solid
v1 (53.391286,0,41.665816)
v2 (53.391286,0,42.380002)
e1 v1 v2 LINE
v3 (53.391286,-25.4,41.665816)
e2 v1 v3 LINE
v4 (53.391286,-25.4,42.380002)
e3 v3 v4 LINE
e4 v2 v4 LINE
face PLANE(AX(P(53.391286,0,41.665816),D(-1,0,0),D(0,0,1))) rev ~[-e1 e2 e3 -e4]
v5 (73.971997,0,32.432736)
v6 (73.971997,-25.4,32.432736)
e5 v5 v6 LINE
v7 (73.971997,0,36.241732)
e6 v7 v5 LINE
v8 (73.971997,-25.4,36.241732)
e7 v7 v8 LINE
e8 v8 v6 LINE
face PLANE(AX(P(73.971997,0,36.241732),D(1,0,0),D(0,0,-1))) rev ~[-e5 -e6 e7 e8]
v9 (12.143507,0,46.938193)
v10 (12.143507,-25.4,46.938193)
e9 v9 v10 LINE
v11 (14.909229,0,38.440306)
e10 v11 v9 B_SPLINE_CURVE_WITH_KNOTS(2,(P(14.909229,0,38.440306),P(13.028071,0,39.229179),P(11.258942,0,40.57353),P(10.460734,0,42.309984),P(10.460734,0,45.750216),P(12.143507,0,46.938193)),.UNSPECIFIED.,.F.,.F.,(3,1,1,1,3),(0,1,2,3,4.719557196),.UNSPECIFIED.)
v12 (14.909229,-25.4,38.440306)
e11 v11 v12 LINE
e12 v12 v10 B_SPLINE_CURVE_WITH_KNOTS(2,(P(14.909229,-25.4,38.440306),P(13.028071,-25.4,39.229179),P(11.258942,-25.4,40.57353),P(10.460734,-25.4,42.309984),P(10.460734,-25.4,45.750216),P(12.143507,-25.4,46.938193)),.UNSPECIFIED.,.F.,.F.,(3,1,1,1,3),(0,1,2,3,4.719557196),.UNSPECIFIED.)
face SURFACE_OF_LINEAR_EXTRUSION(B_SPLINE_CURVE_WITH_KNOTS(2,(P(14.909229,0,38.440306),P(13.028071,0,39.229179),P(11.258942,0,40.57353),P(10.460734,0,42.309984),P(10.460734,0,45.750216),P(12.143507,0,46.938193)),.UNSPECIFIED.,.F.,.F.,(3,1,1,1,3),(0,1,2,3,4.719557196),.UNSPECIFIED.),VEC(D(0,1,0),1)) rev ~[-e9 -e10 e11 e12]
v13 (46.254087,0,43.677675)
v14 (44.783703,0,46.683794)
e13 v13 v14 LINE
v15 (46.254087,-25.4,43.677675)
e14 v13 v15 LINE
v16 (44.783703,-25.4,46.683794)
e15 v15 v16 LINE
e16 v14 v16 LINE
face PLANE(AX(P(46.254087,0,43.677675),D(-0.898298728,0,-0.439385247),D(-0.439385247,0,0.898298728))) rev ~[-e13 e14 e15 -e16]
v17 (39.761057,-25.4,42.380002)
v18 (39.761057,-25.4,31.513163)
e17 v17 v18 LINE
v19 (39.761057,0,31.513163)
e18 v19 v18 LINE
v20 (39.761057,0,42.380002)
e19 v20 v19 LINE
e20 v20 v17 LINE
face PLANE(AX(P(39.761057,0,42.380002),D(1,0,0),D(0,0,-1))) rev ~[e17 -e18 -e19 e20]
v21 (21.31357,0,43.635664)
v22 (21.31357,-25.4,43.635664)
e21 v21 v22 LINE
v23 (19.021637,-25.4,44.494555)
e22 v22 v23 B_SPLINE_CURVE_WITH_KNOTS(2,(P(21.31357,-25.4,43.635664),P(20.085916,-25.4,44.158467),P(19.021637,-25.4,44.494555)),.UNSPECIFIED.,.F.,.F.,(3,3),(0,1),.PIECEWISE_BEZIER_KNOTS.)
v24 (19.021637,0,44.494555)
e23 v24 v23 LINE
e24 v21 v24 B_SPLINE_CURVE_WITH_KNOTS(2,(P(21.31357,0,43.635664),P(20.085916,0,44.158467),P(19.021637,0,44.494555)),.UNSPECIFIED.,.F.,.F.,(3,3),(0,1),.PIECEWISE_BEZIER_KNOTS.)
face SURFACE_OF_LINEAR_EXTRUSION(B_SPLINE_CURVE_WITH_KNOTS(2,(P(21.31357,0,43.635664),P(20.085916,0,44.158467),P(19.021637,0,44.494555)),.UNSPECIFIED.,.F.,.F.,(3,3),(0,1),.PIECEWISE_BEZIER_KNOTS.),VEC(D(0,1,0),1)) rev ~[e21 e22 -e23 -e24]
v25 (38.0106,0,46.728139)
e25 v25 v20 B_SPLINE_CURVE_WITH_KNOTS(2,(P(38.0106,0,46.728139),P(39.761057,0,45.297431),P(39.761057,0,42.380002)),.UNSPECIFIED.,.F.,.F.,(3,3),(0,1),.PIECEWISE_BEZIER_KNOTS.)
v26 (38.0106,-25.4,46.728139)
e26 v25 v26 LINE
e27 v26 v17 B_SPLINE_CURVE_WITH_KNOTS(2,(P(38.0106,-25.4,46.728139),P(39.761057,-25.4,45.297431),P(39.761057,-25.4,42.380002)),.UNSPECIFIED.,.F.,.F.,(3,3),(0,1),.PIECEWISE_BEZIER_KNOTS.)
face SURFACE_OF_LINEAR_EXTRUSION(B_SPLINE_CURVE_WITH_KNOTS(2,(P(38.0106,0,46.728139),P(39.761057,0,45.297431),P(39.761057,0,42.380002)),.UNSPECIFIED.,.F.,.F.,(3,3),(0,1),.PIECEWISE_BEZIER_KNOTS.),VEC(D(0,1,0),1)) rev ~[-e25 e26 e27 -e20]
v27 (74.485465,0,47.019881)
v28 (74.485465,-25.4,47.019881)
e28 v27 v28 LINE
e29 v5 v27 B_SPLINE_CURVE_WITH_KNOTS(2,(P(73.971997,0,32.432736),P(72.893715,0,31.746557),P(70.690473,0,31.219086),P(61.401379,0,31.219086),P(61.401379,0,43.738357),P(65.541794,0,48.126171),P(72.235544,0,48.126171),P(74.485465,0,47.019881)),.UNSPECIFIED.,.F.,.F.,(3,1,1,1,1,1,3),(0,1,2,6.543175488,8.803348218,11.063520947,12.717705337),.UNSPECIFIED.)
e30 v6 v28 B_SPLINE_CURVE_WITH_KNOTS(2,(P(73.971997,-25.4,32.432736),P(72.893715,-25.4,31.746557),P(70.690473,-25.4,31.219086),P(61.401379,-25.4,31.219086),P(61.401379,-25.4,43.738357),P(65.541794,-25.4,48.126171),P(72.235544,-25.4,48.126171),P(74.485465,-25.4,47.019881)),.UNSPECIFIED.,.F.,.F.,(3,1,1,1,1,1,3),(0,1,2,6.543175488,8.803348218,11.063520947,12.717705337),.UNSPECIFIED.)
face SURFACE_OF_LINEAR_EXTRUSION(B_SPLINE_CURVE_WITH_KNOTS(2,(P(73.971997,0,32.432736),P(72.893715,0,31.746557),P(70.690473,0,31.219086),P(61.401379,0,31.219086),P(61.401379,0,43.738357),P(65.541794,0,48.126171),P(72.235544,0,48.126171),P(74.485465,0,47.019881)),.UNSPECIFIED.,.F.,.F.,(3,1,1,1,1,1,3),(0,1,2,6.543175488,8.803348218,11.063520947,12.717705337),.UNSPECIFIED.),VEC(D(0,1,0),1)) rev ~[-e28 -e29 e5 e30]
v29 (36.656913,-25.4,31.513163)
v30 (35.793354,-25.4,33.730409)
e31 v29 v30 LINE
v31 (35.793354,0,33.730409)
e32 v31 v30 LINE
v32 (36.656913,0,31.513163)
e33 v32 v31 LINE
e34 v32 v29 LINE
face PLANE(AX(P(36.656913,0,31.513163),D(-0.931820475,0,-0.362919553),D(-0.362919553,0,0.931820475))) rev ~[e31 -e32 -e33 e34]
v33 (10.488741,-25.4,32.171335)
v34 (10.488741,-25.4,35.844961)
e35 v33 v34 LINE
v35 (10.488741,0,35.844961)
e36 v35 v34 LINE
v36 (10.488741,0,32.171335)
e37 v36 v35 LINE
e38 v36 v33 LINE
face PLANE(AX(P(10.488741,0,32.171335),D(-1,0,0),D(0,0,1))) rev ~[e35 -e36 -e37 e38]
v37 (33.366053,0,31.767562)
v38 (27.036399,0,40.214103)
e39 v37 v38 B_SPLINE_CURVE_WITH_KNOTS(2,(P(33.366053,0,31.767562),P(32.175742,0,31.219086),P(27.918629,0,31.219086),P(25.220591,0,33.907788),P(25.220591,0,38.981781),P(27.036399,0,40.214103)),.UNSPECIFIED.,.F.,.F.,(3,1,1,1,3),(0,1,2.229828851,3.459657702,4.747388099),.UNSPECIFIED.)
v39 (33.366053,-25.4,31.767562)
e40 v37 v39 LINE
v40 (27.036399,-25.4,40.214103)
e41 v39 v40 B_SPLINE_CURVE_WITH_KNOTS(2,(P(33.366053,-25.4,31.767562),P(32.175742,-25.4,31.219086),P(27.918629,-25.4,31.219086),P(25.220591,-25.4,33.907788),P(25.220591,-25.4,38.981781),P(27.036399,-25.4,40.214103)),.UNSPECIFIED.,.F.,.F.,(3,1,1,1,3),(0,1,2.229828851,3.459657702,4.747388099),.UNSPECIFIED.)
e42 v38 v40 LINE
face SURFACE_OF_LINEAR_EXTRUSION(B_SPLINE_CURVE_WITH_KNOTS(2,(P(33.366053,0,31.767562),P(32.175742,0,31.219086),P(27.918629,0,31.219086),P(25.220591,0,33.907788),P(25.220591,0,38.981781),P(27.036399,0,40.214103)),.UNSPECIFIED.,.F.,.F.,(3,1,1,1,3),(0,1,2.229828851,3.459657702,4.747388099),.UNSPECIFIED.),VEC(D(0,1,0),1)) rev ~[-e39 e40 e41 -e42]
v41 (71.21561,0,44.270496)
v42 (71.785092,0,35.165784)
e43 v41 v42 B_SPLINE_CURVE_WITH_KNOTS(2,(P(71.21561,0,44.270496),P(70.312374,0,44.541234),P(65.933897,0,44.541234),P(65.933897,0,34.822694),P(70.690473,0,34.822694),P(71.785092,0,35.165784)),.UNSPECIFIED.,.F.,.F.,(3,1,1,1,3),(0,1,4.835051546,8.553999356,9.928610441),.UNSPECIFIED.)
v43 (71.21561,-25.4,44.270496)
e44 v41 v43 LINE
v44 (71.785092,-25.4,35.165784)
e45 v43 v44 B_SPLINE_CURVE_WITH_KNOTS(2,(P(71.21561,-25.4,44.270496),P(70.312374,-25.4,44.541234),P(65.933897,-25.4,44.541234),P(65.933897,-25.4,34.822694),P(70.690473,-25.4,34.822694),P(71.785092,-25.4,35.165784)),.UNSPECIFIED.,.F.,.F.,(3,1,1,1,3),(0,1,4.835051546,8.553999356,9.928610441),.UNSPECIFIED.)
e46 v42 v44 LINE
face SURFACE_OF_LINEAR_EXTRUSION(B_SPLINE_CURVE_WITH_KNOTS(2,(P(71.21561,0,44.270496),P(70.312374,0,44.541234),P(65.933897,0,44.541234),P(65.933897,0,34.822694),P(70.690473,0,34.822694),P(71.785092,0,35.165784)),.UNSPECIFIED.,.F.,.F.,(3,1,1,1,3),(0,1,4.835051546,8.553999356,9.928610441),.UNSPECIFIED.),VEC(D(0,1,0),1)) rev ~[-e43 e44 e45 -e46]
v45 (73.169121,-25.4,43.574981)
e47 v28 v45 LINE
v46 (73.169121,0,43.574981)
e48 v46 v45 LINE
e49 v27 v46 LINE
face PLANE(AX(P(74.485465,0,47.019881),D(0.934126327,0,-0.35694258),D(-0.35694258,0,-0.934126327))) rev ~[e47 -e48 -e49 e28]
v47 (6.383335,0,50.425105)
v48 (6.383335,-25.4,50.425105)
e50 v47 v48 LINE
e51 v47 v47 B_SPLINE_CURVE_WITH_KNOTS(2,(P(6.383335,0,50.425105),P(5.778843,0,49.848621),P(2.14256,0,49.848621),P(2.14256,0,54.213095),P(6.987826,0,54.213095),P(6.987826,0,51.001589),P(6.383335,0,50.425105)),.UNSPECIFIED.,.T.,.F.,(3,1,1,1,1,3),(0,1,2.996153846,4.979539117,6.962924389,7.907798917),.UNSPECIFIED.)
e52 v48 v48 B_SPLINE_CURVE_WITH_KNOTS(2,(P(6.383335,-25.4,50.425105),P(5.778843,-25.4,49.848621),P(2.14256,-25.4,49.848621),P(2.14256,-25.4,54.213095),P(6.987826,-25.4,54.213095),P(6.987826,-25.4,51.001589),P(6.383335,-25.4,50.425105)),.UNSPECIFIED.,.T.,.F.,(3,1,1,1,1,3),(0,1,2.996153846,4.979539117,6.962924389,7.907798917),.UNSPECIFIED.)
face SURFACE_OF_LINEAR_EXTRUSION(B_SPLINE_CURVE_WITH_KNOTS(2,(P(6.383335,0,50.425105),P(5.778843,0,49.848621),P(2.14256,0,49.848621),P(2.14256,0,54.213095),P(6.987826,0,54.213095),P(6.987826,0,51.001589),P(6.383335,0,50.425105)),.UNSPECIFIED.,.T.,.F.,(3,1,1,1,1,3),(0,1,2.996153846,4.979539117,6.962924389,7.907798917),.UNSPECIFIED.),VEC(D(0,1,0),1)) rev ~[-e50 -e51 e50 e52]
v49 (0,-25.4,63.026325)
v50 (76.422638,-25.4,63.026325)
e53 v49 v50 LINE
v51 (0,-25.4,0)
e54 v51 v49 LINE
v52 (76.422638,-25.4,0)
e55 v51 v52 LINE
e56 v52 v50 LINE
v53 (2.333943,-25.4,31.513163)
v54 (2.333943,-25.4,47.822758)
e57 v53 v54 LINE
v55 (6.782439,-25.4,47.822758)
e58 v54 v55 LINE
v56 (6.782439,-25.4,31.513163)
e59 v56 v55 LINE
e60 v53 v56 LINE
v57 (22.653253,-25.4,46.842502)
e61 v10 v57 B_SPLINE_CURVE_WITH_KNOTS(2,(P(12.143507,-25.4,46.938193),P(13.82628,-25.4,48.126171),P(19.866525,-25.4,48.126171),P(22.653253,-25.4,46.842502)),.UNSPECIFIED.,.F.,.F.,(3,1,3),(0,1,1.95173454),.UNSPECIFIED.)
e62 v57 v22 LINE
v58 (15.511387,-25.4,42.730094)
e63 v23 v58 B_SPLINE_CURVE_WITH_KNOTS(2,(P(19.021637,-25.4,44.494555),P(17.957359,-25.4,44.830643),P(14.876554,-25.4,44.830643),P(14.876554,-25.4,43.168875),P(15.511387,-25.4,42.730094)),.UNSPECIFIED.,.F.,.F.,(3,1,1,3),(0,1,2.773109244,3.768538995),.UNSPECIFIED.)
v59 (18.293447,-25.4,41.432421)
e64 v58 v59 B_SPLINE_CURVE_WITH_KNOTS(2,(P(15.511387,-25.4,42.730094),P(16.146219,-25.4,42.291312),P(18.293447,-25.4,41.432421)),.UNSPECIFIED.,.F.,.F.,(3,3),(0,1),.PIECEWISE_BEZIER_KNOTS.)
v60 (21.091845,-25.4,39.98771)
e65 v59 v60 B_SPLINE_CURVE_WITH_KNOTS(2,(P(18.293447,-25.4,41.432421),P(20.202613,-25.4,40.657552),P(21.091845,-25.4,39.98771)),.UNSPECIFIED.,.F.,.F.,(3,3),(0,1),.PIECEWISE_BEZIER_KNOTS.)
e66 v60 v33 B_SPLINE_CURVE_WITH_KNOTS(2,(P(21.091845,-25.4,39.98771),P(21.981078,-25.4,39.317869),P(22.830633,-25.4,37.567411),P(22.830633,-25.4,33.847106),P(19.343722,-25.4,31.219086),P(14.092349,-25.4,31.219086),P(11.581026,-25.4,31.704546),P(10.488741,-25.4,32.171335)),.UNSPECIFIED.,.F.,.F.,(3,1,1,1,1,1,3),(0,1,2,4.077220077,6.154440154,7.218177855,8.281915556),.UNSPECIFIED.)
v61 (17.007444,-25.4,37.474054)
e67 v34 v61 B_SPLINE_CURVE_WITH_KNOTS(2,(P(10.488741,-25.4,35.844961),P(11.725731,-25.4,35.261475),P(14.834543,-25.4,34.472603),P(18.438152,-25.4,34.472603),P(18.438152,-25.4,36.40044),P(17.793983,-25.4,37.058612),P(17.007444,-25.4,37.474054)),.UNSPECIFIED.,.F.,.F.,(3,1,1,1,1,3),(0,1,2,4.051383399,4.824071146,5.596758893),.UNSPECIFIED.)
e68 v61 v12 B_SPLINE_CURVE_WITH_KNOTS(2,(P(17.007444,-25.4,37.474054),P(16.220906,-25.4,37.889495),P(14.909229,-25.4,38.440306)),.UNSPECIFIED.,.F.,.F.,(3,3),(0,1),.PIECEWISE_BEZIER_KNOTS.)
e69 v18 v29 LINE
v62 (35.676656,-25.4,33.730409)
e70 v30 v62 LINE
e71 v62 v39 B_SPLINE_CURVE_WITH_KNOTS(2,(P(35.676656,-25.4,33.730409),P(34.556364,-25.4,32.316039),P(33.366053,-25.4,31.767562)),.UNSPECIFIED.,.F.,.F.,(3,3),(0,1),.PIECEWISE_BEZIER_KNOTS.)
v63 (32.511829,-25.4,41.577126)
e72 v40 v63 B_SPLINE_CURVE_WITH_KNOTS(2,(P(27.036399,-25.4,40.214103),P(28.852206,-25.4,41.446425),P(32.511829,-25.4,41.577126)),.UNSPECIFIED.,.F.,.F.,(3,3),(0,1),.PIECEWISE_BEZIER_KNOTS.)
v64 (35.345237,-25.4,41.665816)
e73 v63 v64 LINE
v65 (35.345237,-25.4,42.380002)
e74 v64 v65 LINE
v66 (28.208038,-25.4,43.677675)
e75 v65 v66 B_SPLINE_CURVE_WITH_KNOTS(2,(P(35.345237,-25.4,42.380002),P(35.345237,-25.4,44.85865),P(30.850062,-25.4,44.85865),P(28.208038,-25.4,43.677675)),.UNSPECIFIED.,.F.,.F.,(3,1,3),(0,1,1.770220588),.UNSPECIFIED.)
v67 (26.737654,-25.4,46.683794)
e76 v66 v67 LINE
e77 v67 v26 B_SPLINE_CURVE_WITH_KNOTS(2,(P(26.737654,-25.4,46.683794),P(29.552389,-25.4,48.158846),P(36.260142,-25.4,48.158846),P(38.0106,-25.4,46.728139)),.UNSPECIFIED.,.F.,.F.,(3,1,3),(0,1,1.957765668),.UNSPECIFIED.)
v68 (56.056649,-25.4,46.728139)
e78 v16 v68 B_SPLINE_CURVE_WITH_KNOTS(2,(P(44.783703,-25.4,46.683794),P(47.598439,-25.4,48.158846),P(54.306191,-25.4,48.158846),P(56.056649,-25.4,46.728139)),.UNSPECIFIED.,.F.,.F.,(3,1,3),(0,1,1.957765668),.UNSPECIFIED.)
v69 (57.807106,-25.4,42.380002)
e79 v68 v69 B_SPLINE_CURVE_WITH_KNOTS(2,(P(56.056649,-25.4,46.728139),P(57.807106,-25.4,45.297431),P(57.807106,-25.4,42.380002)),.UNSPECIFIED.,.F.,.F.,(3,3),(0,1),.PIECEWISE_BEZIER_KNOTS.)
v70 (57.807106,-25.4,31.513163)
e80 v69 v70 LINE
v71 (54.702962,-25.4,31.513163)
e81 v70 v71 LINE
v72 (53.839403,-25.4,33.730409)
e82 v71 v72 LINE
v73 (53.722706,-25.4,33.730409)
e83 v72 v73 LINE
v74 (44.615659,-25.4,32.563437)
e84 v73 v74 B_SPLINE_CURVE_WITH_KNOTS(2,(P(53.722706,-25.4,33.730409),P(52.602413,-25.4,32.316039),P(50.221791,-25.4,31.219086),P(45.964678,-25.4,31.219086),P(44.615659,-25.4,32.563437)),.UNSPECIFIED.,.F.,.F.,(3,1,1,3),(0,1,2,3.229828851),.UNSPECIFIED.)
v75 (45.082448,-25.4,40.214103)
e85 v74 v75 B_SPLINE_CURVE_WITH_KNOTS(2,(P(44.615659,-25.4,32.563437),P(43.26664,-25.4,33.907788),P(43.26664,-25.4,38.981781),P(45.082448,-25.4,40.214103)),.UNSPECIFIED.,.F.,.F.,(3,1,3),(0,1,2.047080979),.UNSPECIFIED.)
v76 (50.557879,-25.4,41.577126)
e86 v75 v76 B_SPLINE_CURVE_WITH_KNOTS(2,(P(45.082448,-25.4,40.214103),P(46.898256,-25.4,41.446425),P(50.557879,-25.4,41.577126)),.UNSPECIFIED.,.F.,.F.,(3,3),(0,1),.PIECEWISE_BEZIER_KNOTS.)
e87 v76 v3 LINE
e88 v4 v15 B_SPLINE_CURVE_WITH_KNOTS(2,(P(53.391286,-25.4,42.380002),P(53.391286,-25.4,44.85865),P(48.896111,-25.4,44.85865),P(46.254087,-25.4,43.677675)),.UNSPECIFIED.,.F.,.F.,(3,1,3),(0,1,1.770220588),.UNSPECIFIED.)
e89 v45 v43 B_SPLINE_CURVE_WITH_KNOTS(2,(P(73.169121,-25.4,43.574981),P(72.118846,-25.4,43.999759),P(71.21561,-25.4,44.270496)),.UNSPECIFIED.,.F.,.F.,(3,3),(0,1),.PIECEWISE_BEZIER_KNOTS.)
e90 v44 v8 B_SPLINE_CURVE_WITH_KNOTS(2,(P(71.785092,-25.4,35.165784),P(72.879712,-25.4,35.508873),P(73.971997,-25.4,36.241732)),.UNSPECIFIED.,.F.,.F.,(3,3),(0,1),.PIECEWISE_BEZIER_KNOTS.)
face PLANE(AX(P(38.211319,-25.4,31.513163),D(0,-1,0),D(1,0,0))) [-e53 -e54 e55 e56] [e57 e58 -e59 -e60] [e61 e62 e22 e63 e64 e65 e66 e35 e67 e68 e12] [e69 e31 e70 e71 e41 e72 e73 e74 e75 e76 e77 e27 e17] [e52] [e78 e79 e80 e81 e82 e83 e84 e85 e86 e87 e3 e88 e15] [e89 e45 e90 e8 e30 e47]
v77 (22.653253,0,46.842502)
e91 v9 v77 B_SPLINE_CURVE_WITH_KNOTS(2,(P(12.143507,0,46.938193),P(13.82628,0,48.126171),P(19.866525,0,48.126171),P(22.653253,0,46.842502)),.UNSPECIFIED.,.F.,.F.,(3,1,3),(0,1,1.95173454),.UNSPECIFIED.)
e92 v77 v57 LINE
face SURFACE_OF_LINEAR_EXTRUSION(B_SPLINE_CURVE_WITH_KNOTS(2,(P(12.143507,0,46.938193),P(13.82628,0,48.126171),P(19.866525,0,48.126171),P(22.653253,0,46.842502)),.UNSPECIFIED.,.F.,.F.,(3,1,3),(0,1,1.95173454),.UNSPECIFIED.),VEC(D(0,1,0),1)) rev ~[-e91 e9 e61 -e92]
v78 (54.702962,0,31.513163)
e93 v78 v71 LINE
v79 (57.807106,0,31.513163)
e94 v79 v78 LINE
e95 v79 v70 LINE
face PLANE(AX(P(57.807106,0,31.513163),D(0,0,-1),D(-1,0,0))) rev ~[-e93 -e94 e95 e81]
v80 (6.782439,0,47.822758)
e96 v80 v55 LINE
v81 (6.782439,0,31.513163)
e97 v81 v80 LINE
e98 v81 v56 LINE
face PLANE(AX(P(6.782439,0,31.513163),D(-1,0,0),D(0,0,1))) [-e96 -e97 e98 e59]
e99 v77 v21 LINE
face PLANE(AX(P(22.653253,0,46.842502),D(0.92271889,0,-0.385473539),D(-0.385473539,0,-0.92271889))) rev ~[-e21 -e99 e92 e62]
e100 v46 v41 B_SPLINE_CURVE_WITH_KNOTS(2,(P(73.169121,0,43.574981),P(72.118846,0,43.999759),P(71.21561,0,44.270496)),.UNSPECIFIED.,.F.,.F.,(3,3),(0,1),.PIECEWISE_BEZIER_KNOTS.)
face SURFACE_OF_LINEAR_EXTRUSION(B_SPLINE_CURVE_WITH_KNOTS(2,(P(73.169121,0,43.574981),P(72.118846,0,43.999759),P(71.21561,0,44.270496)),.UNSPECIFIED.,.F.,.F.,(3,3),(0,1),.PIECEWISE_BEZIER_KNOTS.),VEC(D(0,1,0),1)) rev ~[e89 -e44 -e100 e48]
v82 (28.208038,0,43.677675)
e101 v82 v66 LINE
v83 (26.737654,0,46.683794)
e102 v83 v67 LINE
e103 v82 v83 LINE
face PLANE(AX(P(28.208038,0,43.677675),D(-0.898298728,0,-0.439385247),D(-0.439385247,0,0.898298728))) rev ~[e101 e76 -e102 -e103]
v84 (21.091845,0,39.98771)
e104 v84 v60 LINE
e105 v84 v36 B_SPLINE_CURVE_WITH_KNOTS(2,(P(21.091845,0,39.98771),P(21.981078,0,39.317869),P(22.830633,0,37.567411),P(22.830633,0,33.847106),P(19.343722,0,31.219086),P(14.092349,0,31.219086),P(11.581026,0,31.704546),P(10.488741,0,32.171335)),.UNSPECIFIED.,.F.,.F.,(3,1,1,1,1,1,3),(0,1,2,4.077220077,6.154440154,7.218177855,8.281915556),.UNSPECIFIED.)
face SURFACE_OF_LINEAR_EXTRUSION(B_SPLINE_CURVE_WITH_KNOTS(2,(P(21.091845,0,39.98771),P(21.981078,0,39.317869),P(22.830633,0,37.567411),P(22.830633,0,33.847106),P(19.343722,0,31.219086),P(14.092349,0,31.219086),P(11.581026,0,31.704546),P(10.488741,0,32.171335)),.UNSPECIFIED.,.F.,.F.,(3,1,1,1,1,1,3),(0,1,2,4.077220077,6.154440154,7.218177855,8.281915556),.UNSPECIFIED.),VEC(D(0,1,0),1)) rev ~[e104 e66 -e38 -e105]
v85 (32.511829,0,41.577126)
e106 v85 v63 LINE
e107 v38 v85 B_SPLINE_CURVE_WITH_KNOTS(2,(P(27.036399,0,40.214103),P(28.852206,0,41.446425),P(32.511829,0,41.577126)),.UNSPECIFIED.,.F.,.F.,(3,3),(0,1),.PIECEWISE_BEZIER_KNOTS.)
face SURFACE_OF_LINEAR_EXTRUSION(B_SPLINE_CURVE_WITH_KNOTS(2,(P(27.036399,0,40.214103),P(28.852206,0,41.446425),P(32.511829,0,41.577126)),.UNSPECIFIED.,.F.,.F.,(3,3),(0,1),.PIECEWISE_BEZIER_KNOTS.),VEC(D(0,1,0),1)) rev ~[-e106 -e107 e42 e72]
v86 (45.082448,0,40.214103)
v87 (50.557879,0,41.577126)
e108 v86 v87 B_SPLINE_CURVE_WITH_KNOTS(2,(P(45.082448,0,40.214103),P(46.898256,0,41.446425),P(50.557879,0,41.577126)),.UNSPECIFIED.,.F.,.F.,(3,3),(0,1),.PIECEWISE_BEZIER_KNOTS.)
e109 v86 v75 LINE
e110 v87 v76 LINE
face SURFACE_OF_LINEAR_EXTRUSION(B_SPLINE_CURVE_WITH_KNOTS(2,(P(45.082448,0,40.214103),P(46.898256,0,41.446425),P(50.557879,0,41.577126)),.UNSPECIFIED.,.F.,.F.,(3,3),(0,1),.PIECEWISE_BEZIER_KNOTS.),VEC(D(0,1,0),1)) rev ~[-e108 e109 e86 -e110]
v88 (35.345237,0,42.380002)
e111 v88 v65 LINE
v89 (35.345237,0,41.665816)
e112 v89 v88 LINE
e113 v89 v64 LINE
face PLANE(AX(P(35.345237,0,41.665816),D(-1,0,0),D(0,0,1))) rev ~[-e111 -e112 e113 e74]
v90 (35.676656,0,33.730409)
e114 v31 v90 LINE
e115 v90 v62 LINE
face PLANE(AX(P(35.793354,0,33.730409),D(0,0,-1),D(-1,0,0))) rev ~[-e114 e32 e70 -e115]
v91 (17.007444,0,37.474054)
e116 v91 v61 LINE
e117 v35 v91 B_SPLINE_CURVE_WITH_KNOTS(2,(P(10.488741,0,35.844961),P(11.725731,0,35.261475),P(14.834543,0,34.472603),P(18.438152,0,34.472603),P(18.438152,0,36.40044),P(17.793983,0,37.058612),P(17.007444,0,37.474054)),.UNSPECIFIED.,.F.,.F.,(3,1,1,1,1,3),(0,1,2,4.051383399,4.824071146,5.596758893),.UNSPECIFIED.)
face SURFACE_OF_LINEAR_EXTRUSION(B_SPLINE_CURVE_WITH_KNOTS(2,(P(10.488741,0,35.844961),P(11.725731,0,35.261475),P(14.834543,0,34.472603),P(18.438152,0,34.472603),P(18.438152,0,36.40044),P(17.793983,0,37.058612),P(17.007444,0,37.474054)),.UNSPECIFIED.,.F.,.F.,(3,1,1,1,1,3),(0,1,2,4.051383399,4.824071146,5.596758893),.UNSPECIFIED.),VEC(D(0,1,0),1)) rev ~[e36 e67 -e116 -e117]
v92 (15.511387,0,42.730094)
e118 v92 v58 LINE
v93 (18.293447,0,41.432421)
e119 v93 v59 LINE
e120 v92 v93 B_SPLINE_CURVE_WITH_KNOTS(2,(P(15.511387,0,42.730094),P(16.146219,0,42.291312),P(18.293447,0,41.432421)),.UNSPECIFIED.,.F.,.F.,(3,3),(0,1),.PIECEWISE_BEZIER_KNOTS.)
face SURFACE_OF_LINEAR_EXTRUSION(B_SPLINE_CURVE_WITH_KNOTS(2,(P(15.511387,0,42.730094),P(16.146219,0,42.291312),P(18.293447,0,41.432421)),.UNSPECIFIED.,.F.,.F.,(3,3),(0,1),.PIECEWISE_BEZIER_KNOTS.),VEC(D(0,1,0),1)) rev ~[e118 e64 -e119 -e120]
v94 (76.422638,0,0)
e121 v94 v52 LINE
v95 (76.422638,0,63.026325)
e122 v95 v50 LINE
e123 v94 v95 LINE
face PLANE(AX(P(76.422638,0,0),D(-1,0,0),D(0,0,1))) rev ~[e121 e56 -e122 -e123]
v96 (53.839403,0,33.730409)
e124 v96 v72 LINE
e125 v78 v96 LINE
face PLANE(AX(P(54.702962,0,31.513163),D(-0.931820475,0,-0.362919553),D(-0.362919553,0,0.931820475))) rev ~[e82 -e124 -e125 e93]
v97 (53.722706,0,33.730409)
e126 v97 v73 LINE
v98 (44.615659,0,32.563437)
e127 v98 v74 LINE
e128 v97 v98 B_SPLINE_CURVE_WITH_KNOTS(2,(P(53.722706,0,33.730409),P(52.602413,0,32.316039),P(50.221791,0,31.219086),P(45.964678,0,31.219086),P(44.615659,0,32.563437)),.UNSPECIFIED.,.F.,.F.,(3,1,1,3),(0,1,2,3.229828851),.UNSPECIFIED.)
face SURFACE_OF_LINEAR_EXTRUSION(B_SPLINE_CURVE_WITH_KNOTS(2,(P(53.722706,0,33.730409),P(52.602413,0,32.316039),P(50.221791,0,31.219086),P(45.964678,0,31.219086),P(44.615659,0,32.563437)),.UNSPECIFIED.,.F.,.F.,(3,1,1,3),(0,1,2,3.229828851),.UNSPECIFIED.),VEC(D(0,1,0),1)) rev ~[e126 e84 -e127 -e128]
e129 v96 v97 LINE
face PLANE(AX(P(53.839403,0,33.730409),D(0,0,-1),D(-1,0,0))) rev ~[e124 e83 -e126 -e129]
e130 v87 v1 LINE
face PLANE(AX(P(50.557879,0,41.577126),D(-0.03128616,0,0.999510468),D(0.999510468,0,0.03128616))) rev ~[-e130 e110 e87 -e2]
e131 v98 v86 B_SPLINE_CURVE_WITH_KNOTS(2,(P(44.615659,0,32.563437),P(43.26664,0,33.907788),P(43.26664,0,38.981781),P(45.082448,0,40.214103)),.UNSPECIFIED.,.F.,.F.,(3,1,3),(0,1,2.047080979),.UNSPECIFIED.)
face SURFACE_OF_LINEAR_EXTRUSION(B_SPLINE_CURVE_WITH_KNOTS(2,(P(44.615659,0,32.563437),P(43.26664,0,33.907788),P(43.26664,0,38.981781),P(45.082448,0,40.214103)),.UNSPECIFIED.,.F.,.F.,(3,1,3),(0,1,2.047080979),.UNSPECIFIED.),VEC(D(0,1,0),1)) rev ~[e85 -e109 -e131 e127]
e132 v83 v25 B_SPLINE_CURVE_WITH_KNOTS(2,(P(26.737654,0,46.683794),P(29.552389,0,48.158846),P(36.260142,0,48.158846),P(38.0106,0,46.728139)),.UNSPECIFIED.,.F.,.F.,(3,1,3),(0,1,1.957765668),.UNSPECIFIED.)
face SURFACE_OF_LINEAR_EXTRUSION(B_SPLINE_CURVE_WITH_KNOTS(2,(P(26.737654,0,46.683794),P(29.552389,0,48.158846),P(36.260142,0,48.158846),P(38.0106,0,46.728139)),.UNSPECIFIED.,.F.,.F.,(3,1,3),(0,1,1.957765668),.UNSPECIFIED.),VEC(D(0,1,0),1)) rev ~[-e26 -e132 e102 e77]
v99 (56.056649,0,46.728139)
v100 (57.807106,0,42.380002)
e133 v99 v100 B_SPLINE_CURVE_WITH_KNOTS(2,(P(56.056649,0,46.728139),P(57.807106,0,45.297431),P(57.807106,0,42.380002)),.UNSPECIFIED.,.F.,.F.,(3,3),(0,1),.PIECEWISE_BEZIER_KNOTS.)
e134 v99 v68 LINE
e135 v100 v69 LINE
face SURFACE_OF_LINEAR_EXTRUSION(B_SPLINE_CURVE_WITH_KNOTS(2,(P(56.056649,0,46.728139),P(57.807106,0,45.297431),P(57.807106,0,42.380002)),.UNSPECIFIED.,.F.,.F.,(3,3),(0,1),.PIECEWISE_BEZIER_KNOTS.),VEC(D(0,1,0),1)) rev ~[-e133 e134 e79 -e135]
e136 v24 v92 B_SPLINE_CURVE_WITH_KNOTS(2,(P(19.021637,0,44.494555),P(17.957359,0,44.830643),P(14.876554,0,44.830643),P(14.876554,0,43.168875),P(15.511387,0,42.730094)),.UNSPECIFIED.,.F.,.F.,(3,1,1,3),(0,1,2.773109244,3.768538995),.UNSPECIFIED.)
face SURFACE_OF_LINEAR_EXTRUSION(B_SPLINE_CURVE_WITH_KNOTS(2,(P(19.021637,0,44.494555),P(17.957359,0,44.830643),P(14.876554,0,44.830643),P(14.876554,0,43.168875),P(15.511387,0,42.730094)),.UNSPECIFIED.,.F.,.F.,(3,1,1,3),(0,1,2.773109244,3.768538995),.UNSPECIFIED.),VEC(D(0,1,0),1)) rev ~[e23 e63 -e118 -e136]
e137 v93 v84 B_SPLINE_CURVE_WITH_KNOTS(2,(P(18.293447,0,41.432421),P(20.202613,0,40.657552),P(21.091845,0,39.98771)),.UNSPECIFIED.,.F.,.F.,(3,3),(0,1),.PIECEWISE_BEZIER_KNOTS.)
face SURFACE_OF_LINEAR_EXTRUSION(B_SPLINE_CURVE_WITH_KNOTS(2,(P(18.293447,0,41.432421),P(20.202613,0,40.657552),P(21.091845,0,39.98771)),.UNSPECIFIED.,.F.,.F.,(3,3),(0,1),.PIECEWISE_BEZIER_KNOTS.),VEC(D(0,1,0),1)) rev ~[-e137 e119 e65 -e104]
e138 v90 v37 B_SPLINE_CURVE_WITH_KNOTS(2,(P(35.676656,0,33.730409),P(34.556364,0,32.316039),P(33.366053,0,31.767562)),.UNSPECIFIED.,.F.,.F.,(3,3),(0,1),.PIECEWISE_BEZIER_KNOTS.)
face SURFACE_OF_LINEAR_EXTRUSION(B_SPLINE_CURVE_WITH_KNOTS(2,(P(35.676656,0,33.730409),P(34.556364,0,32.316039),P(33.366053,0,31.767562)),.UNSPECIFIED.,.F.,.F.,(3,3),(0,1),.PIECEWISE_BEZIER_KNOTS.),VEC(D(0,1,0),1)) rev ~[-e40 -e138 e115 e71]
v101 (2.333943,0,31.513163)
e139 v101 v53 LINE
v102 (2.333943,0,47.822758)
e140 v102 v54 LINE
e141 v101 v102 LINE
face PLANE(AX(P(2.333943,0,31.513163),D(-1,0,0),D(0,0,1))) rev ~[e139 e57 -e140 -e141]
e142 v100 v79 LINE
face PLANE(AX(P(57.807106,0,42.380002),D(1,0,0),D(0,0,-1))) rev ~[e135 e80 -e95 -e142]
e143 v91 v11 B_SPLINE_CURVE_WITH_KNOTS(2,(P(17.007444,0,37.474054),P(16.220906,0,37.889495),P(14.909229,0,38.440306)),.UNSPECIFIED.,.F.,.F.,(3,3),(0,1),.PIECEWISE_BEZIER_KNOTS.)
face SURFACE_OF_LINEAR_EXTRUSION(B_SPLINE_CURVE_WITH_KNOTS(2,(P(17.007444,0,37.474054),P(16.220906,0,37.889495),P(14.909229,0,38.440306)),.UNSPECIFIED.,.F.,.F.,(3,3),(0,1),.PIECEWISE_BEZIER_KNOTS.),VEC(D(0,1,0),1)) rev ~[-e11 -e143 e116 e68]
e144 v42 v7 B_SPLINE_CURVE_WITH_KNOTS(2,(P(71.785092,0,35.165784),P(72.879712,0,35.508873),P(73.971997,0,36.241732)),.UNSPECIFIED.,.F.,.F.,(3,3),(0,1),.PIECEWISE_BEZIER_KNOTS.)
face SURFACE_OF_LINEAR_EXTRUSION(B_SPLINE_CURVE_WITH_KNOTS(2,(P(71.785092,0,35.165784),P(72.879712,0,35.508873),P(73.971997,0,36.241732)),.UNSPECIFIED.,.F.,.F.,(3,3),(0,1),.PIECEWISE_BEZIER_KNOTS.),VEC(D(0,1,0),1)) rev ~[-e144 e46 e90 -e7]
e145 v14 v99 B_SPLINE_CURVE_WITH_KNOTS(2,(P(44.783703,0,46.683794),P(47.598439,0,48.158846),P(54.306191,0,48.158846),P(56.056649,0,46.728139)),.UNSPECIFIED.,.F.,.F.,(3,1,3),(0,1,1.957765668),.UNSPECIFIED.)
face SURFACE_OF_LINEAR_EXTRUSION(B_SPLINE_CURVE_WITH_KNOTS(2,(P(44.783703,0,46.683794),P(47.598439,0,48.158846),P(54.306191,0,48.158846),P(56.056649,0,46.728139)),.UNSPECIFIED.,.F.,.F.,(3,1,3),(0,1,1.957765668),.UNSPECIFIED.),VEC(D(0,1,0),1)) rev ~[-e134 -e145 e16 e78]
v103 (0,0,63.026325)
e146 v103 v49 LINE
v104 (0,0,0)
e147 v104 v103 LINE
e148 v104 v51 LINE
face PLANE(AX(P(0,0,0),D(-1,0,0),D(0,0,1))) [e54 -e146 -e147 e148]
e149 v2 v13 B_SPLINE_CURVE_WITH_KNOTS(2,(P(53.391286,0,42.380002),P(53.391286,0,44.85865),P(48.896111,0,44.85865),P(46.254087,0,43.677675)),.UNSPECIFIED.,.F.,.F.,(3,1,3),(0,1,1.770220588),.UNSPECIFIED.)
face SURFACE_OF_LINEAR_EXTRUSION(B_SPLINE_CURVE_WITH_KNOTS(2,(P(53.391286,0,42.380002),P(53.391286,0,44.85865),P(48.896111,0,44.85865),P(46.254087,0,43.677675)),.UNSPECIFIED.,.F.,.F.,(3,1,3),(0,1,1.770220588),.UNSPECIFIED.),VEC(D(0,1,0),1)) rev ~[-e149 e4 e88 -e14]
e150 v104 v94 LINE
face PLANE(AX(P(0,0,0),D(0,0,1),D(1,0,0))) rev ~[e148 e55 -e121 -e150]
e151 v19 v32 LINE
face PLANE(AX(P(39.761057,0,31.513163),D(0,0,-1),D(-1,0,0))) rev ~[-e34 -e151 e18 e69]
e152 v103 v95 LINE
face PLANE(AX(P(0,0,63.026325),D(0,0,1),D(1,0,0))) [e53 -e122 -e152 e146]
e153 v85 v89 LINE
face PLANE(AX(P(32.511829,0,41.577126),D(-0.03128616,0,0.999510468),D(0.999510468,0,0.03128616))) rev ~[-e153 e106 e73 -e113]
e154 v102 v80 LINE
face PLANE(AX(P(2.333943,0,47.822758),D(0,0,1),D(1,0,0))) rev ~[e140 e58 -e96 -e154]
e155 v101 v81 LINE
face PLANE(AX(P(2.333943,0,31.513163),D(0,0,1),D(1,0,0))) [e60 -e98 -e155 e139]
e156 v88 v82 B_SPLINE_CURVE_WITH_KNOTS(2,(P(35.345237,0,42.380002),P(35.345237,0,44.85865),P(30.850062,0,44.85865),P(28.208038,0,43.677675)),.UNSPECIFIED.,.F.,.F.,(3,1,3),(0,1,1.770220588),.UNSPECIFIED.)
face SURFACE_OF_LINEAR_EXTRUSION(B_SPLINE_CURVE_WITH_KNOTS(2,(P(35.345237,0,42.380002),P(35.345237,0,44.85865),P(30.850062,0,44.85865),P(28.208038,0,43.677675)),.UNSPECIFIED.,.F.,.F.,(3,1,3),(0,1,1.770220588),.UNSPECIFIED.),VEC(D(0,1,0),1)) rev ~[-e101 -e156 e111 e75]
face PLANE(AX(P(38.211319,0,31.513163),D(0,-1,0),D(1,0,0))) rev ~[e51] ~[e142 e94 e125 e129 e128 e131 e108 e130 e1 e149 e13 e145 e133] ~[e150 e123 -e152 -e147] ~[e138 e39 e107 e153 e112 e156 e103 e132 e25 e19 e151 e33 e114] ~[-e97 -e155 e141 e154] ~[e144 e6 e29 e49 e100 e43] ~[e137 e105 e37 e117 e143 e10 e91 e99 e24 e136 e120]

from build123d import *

# Parameters (mm, degrees)
F0_W     = 76.4226376876
F0_H     = 63.0263250266
F0_W_2   = 4.4484958292
F0_H_2   = 16.3095954117
F1_DEPTH = 25.4


with BuildPart() as f1:
    # F0 (on Front) → F1 (new body)
    with BuildSketch(Plane.XZ):
        with Locations((38.2113188438, 31.5131625133)):
            Rectangle(F0_W, F0_H)
        with Locations((4.5581911619, 39.6679602192)):
            Rectangle(F0_W_2, F0_H_2, mode=Mode.SUBTRACT)
        with BuildLine():
            add(Edge.make_bspline(
                [(22.4058551735, 38.4426400144), (22.8306328445, 37.5674112967), (22.8306328445, 36.3584286946)],
                knots=[0, 0, 0, 1, 1, 1], degree=2))
            add(Edge.make_bspline(
                [(22.8306328445, 36.3584286946), (22.8306328445, 33.8471057606), (21.0871772388, 32.5330957124)],
                knots=[0, 0, 0, 1, 1, 1], degree=2))
            add(Edge.make_bspline(
                [(21.0871772388, 32.5330957124), (19.3437216331, 31.2190856642), (15.8708140812, 31.2190856642)],
                knots=[0, 0, 0, 1, 1, 1], degree=2))
            add(Edge.make_bspline(
                [(15.8708140812, 31.2190856642), (14.0923493268, 31.2190856642), (12.8366878598, 31.4618157619)],
                knots=[0, 0, 0, 1, 1, 1], degree=2))
            add(Edge.make_bspline(
                [(12.8366878598, 31.4618157619), (11.5810263928, 31.7045458596), (10.4887409531, 32.171334509)],
                knots=[0, 0, 0, 1, 1, 1], degree=2))
            Line((10.4887409531, 32.171334509), (10.4887409531, 35.8449611802))
            add(Edge.make_bspline(
                [(10.4887409531, 35.8449611802), (11.7257308741, 35.2614753684), (13.2801370768, 34.8670389596)],
                knots=[0, 0, 0, 1, 1, 1], degree=2))
            add(Edge.make_bspline(
                [(13.2801370768, 34.8670389596), (14.8345432795, 34.4726025508), (16.0155185626, 34.4726025508)],
                knots=[0, 0, 0, 1, 1, 1], degree=2))
            add(Edge.make_bspline(
                [(16.0155185626, 34.4726025508), (18.4381516532, 34.4726025508), (18.4381516532, 35.8729684992)],
                knots=[0, 0, 0, 1, 1, 1], degree=2))
            add(Edge.make_bspline(
                [(18.4381516532, 35.8729684992), (18.4381516532, 36.400439673), (18.1160674851, 36.7295256709)],
                knots=[0, 0, 0, 1, 1, 1], degree=2))
            add(Edge.make_bspline(
                [(18.1160674851, 36.7295256709), (17.793983317, 37.0586116688), (17.0074444426, 37.4740535668)],
                knots=[0, 0, 0, 1, 1, 1], degree=2))
            add(Edge.make_bspline(
                [(17.0074444426, 37.4740535668), (16.2209055683, 37.8894954648), (14.9092294634, 38.4403060711)],
                knots=[0, 0, 0, 1, 1, 1], degree=2))
            add(Edge.make_bspline(
                [(14.9092294634, 38.4403060711), (13.0280712061, 39.2291788887), (12.1435067154, 39.9013545439)],
                knots=[0, 0, 0, 1, 1, 1], degree=2))
            add(Edge.make_bspline(
                [(12.1435067154, 39.9013545439), (11.2589422247, 40.5735301991), (10.8598379294, 41.4417570871)],
                knots=[0, 0, 0, 1, 1, 1], degree=2))
            add(Edge.make_bspline(
                [(10.8598379294, 41.4417570871), (10.4607336341, 42.3099839751), (10.4607336341, 43.5749812151)],
                knots=[0, 0, 0, 1, 1, 1], degree=2))
            add(Edge.make_bspline(
                [(10.4607336341, 43.5749812151), (10.4607336341, 45.7502163215), (12.1435067154, 46.9381934343)],
                knots=[0, 0, 0, 1, 1, 1], degree=2))
            add(Edge.make_bspline(
                [(12.1435067154, 46.9381934343), (13.8262797967, 48.1261705472), (16.9210885425, 48.1261705472)],
                knots=[0, 0, 0, 1, 1, 1], degree=2))
            add(Edge.make_bspline(
                [(16.9210885425, 48.1261705472), (19.8665249205, 48.1261705472), (22.6532531577, 46.8425017612)],
                knots=[0, 0, 0, 1, 1, 1], degree=2))
            Line((22.6532531577, 46.8425017612), (21.3135697338, 43.6356637395))
            add(Edge.make_bspline(
                [(21.3135697338, 43.6356637395), (20.0859155858, 44.1584670269), (19.021637465, 44.4945548545)],
                knots=[0, 0, 0, 1, 1, 1], degree=2))
            add(Edge.make_bspline(
                [(19.021637465, 44.4945548545), (17.9573593443, 44.8306426821), (16.8464023586, 44.8306426821)],
                knots=[0, 0, 0, 1, 1, 1], degree=2))
            add(Edge.make_bspline(
                [(16.8464023586, 44.8306426821), (14.8765542579, 44.8306426821), (14.8765542579, 43.7663645613)],
                knots=[0, 0, 0, 1, 1, 1], degree=2))
            add(Edge.make_bspline(
                [(14.8765542579, 43.7663645613), (14.8765542579, 43.16887509), (15.5113868212, 42.7300937596)],
                knots=[0, 0, 0, 1, 1, 1], degree=2))
            add(Edge.make_bspline(
                [(15.5113868212, 42.7300937596), (16.1462193844, 42.2913124291), (18.2934471719, 41.4324213141)],
                knots=[0, 0, 0, 1, 1, 1], degree=2))
            add(Edge.make_bspline(
                [(18.2934471719, 41.4324213141), (20.2026127481, 40.657552156), (21.0918451253, 39.987710444)],
                knots=[0, 0, 0, 1, 1, 1], degree=2))
            add(Edge.make_bspline(
                [(21.0918451253, 39.987710444), (21.9810775025, 39.3178687321), (22.4058551735, 38.4426400144)],
                knots=[0, 0, 0, 1, 1, 1], degree=2))
        make_face(mode=Mode.SUBTRACT)
        with BuildLine():
            Line((39.76105716, 31.5131625133), (36.6569126412, 31.5131625133))
            Line((36.6569126412, 31.5131625133), (35.7933536397, 33.7304085982))
            Line((35.7933536397, 33.7304085982), (35.6766564773, 33.7304085982))
            add(Edge.make_bspline(
                [(35.6766564773, 33.7304085982), (34.5563637186, 32.3160389904), (33.3660526625, 31.7675623273)],
                knots=[0, 0, 0, 1, 1, 1], degree=2))
            add(Edge.make_bspline(
                [(33.3660526625, 31.7675623273), (32.1757416065, 31.2190856642), (30.2665760302, 31.2190856642)],
                knots=[0, 0, 0, 1, 1, 1], degree=2))
            add(Edge.make_bspline(
                [(30.2665760302, 31.2190856642), (27.9186291235, 31.2190856642), (26.5696099266, 32.5634369746)],
                knots=[0, 0, 0, 1, 1, 1], degree=2))
            add(Edge.make_bspline(
                [(26.5696099266, 32.5634369746), (25.2205907297, 33.907788285), (25.2205907297, 36.3864360136)],
                knots=[0, 0, 0, 1, 1, 1], degree=2))
            add(Edge.make_bspline(
                [(25.2205907297, 36.3864360136), (25.2205907297, 38.9817809045), (27.036398576, 40.214102939)],
                knots=[0, 0, 0, 1, 1, 1], degree=2))
            add(Edge.make_bspline(
                [(27.036398576, 40.214102939), (28.8522064224, 41.4464249736), (32.5118294341, 41.5771257954)],
                knots=[0, 0, 0, 1, 1, 1], degree=2))
            Line((32.5118294341, 41.5771257954), (35.3452365362, 41.6658156388))
            Line((35.3452365362, 41.6658156388), (35.3452365362, 42.3800022725))
            add(Edge.make_bspline(
                [(35.3452365362, 42.3800022725), (35.3452365362, 44.858650001), (32.8059062832, 44.858650001)],
                knots=[0, 0, 0, 1, 1, 1], degree=2))
            add(Edge.make_bspline(
                [(32.8059062832, 44.858650001), (30.850061842, 44.858650001), (28.2080380861, 43.6776747179)],
                knots=[0, 0, 0, 1, 1, 1], degree=2))
            Line((28.2080380861, 43.6776747179), (26.7376538404, 46.6837936204))
            add(Edge.make_bspline(
                [(26.7376538404, 46.6837936204), (29.5523893966, 48.1588457526), (32.9786180835, 48.1588457526)],
                knots=[0, 0, 0, 1, 1, 1], degree=2))
            add(Edge.make_bspline(
                [(32.9786180835, 48.1588457526), (36.2601422891, 48.1588457526), (38.0105997246, 46.7281385421)],
                knots=[0, 0, 0, 1, 1, 1], degree=2))
            add(Edge.make_bspline(
                [(38.0105997246, 46.7281385421), (39.76105716, 45.2974313315), (39.76105716, 42.3800022725)],
                knots=[0, 0, 0, 1, 1, 1], degree=2))
            Line((39.76105716, 42.3800022725), (39.76105716, 31.5131625133))
        make_face(mode=Mode.SUBTRACT)
        with BuildLine():
            add(Edge.make_bspline(
                [(4.5651929916, 49.8486206636), (2.142559901, 49.8486206636), (2.142559901, 52.0378594296)],
                knots=[0, 0, 0, 1, 1, 1], degree=2))
            add(Edge.make_bspline(
                [(2.142559901, 52.0378594296), (2.142559901, 54.213094536), (4.5651929916, 54.213094536)],
                knots=[0, 0, 0, 1, 1, 1], degree=2))
            add(Edge.make_bspline(
                [(4.5651929916, 54.213094536), (6.9878260822, 54.213094536), (6.9878260822, 52.0378594296)],
                knots=[0, 0, 0, 1, 1, 1], degree=2))
            add(Edge.make_bspline(
                [(6.9878260822, 52.0378594296), (6.9878260822, 51.0015886278), (6.3833347812, 50.4251046457)],
                knots=[0, 0, 0, 1, 1, 1], degree=2))
            add(Edge.make_bspline(
                [(6.3833347812, 50.4251046457), (5.7788434802, 49.8486206636), (4.5651929916, 49.8486206636)],
                knots=[0, 0, 0, 1, 1, 1], degree=2))
        make_face(mode=Mode.SUBTRACT)
        with BuildLine():
            Line((57.8071063477, 31.5131625133), (54.7029618288, 31.5131625133))
            Line((54.7029618288, 31.5131625133), (53.8394028273, 33.7304085982))
            Line((53.8394028273, 33.7304085982), (53.722705665, 33.7304085982))
            add(Edge.make_bspline(
                [(53.722705665, 33.7304085982), (52.6024129063, 32.3160389904), (51.4121018502, 31.7675623273)],
                knots=[0, 0, 0, 1, 1, 1], degree=2))
            add(Edge.make_bspline(
                [(51.4121018502, 31.7675623273), (50.2217907941, 31.2190856642), (48.3126252179, 31.2190856642)],
                knots=[0, 0, 0, 1, 1, 1], degree=2))
            add(Edge.make_bspline(
                [(48.3126252179, 31.2190856642), (45.9646783112, 31.2190856642), (44.6156591142, 32.5634369746)],
                knots=[0, 0, 0, 1, 1, 1], degree=2))
            add(Edge.make_bspline(
                [(44.6156591142, 32.5634369746), (43.2666399173, 33.907788285), (43.2666399173, 36.3864360136)],
                knots=[0, 0, 0, 1, 1, 1], degree=2))
            add(Edge.make_bspline(
                [(43.2666399173, 36.3864360136), (43.2666399173, 38.9817809045), (45.0824477637, 40.214102939)],
                knots=[0, 0, 0, 1, 1, 1], degree=2))
            add(Edge.make_bspline(
                [(45.0824477637, 40.214102939), (46.89825561, 41.4464249736), (50.5578786217, 41.5771257954)],
                knots=[0, 0, 0, 1, 1, 1], degree=2))
            Line((50.5578786217, 41.5771257954), (53.3912857239, 41.6658156388))
            Line((53.3912857239, 41.6658156388), (53.3912857239, 42.3800022725))
            add(Edge.make_bspline(
                [(53.3912857239, 42.3800022725), (53.3912857239, 44.858650001), (50.8519554709, 44.858650001)],
                knots=[0, 0, 0, 1, 1, 1], degree=2))
            add(Edge.make_bspline(
                [(50.8519554709, 44.858650001), (48.8961110297, 44.858650001), (46.2540872738, 43.6776747179)],
                knots=[0, 0, 0, 1, 1, 1], degree=2))
            Line((46.2540872738, 43.6776747179), (44.783703028, 46.6837936204))
            add(Edge.make_bspline(
                [(44.783703028, 46.6837936204), (47.5984385842, 48.1588457526), (51.0246672712, 48.1588457526)],
                knots=[0, 0, 0, 1, 1, 1], degree=2))
            add(Edge.make_bspline(
                [(51.0246672712, 48.1588457526), (54.3061914768, 48.1588457526), (56.0566489122, 46.7281385421)],
                knots=[0, 0, 0, 1, 1, 1], degree=2))
            add(Edge.make_bspline(
                [(56.0566489122, 46.7281385421), (57.8071063477, 45.2974313315), (57.8071063477, 42.3800022725)],
                knots=[0, 0, 0, 1, 1, 1], degree=2))
            Line((57.8071063477, 42.3800022725), (57.8071063477, 31.5131625133))
        make_face(mode=Mode.SUBTRACT)
        with BuildLine():
            add(Edge.make_bspline(
                [(71.7920942851, 31.4828212511), (70.6904730724, 31.2190856642), (69.0147018209, 31.2190856642)],
                knots=[0, 0, 0, 1, 1, 1], degree=2))
            add(Edge.make_bspline(
                [(69.0147018209, 31.2190856642), (61.4013789484, 31.2190856642), (61.4013789484, 39.5792703758)],
                knots=[0, 0, 0, 1, 1, 1], degree=2))
            add(Edge.make_bspline(
                [(61.4013789484, 39.5792703758), (61.4013789484, 43.7383572424), (63.4715866087, 45.9322638948)],
                knots=[0, 0, 0, 1, 1, 1], degree=2))
            add(Edge.make_bspline(
                [(63.4715866087, 45.9322638948), (65.541794269, 48.1261705472), (69.4068042864, 48.1261705472)],
                knots=[0, 0, 0, 1, 1, 1], degree=2))
            add(Edge.make_bspline(
                [(69.4068042864, 48.1261705472), (72.2355435021, 48.1261705472), (74.4854647924, 47.019881448)],
                knots=[0, 0, 0, 1, 1, 1], degree=2))
            Line((74.4854647924, 47.019881448), (73.169120801, 43.5749812151))
            add(Edge.make_bspline(
                [(73.169120801, 43.5749812151), (72.1188463397, 43.9997588861), (71.215610303, 44.2704963027)],
                knots=[0, 0, 0, 1, 1, 1], degree=2))
            add(Edge.make_bspline(
                [(71.215610303, 44.2704963027), (70.3123742664, 44.5412337194), (69.4068042864, 44.5412337194)],
                knots=[0, 0, 0, 1, 1, 1], degree=2))
            add(Edge.make_bspline(
                [(69.4068042864, 44.5412337194), (65.9338967345, 44.5412337194), (65.9338967345, 39.6072776947)],
                knots=[0, 0, 0, 1, 1, 1], degree=2))
            add(Edge.make_bspline(
                [(65.9338967345, 39.6072776947), (65.9338967345, 34.8226940379), (69.4068042864, 34.8226940379)],
                knots=[0, 0, 0, 1, 1, 1], degree=2))
            add(Edge.make_bspline(
                [(69.4068042864, 34.8226940379), (70.6904730724, 34.8226940379), (71.7850924554, 35.1657836953)],
                knots=[0, 0, 0, 1, 1, 1], degree=2))
            add(Edge.make_bspline(
                [(71.7850924554, 35.1657836953), (72.8797118383, 35.5088733526), (73.971997278, 36.2417315322)],
                knots=[0, 0, 0, 1, 1, 1], degree=2))
            Line((73.971997278, 36.2417315322), (73.971997278, 32.4327361527))
            add(Edge.make_bspline(
                [(73.971997278, 32.4327361527), (72.8937154978, 31.746556838), (71.7920942851, 31.4828212511)],
                knots=[0, 0, 0, 1, 1, 1], degree=2))
        make_face(mode=Mode.SUBTRACT)
    extrude(amount=F1_DEPTH)


solid = f1.part
